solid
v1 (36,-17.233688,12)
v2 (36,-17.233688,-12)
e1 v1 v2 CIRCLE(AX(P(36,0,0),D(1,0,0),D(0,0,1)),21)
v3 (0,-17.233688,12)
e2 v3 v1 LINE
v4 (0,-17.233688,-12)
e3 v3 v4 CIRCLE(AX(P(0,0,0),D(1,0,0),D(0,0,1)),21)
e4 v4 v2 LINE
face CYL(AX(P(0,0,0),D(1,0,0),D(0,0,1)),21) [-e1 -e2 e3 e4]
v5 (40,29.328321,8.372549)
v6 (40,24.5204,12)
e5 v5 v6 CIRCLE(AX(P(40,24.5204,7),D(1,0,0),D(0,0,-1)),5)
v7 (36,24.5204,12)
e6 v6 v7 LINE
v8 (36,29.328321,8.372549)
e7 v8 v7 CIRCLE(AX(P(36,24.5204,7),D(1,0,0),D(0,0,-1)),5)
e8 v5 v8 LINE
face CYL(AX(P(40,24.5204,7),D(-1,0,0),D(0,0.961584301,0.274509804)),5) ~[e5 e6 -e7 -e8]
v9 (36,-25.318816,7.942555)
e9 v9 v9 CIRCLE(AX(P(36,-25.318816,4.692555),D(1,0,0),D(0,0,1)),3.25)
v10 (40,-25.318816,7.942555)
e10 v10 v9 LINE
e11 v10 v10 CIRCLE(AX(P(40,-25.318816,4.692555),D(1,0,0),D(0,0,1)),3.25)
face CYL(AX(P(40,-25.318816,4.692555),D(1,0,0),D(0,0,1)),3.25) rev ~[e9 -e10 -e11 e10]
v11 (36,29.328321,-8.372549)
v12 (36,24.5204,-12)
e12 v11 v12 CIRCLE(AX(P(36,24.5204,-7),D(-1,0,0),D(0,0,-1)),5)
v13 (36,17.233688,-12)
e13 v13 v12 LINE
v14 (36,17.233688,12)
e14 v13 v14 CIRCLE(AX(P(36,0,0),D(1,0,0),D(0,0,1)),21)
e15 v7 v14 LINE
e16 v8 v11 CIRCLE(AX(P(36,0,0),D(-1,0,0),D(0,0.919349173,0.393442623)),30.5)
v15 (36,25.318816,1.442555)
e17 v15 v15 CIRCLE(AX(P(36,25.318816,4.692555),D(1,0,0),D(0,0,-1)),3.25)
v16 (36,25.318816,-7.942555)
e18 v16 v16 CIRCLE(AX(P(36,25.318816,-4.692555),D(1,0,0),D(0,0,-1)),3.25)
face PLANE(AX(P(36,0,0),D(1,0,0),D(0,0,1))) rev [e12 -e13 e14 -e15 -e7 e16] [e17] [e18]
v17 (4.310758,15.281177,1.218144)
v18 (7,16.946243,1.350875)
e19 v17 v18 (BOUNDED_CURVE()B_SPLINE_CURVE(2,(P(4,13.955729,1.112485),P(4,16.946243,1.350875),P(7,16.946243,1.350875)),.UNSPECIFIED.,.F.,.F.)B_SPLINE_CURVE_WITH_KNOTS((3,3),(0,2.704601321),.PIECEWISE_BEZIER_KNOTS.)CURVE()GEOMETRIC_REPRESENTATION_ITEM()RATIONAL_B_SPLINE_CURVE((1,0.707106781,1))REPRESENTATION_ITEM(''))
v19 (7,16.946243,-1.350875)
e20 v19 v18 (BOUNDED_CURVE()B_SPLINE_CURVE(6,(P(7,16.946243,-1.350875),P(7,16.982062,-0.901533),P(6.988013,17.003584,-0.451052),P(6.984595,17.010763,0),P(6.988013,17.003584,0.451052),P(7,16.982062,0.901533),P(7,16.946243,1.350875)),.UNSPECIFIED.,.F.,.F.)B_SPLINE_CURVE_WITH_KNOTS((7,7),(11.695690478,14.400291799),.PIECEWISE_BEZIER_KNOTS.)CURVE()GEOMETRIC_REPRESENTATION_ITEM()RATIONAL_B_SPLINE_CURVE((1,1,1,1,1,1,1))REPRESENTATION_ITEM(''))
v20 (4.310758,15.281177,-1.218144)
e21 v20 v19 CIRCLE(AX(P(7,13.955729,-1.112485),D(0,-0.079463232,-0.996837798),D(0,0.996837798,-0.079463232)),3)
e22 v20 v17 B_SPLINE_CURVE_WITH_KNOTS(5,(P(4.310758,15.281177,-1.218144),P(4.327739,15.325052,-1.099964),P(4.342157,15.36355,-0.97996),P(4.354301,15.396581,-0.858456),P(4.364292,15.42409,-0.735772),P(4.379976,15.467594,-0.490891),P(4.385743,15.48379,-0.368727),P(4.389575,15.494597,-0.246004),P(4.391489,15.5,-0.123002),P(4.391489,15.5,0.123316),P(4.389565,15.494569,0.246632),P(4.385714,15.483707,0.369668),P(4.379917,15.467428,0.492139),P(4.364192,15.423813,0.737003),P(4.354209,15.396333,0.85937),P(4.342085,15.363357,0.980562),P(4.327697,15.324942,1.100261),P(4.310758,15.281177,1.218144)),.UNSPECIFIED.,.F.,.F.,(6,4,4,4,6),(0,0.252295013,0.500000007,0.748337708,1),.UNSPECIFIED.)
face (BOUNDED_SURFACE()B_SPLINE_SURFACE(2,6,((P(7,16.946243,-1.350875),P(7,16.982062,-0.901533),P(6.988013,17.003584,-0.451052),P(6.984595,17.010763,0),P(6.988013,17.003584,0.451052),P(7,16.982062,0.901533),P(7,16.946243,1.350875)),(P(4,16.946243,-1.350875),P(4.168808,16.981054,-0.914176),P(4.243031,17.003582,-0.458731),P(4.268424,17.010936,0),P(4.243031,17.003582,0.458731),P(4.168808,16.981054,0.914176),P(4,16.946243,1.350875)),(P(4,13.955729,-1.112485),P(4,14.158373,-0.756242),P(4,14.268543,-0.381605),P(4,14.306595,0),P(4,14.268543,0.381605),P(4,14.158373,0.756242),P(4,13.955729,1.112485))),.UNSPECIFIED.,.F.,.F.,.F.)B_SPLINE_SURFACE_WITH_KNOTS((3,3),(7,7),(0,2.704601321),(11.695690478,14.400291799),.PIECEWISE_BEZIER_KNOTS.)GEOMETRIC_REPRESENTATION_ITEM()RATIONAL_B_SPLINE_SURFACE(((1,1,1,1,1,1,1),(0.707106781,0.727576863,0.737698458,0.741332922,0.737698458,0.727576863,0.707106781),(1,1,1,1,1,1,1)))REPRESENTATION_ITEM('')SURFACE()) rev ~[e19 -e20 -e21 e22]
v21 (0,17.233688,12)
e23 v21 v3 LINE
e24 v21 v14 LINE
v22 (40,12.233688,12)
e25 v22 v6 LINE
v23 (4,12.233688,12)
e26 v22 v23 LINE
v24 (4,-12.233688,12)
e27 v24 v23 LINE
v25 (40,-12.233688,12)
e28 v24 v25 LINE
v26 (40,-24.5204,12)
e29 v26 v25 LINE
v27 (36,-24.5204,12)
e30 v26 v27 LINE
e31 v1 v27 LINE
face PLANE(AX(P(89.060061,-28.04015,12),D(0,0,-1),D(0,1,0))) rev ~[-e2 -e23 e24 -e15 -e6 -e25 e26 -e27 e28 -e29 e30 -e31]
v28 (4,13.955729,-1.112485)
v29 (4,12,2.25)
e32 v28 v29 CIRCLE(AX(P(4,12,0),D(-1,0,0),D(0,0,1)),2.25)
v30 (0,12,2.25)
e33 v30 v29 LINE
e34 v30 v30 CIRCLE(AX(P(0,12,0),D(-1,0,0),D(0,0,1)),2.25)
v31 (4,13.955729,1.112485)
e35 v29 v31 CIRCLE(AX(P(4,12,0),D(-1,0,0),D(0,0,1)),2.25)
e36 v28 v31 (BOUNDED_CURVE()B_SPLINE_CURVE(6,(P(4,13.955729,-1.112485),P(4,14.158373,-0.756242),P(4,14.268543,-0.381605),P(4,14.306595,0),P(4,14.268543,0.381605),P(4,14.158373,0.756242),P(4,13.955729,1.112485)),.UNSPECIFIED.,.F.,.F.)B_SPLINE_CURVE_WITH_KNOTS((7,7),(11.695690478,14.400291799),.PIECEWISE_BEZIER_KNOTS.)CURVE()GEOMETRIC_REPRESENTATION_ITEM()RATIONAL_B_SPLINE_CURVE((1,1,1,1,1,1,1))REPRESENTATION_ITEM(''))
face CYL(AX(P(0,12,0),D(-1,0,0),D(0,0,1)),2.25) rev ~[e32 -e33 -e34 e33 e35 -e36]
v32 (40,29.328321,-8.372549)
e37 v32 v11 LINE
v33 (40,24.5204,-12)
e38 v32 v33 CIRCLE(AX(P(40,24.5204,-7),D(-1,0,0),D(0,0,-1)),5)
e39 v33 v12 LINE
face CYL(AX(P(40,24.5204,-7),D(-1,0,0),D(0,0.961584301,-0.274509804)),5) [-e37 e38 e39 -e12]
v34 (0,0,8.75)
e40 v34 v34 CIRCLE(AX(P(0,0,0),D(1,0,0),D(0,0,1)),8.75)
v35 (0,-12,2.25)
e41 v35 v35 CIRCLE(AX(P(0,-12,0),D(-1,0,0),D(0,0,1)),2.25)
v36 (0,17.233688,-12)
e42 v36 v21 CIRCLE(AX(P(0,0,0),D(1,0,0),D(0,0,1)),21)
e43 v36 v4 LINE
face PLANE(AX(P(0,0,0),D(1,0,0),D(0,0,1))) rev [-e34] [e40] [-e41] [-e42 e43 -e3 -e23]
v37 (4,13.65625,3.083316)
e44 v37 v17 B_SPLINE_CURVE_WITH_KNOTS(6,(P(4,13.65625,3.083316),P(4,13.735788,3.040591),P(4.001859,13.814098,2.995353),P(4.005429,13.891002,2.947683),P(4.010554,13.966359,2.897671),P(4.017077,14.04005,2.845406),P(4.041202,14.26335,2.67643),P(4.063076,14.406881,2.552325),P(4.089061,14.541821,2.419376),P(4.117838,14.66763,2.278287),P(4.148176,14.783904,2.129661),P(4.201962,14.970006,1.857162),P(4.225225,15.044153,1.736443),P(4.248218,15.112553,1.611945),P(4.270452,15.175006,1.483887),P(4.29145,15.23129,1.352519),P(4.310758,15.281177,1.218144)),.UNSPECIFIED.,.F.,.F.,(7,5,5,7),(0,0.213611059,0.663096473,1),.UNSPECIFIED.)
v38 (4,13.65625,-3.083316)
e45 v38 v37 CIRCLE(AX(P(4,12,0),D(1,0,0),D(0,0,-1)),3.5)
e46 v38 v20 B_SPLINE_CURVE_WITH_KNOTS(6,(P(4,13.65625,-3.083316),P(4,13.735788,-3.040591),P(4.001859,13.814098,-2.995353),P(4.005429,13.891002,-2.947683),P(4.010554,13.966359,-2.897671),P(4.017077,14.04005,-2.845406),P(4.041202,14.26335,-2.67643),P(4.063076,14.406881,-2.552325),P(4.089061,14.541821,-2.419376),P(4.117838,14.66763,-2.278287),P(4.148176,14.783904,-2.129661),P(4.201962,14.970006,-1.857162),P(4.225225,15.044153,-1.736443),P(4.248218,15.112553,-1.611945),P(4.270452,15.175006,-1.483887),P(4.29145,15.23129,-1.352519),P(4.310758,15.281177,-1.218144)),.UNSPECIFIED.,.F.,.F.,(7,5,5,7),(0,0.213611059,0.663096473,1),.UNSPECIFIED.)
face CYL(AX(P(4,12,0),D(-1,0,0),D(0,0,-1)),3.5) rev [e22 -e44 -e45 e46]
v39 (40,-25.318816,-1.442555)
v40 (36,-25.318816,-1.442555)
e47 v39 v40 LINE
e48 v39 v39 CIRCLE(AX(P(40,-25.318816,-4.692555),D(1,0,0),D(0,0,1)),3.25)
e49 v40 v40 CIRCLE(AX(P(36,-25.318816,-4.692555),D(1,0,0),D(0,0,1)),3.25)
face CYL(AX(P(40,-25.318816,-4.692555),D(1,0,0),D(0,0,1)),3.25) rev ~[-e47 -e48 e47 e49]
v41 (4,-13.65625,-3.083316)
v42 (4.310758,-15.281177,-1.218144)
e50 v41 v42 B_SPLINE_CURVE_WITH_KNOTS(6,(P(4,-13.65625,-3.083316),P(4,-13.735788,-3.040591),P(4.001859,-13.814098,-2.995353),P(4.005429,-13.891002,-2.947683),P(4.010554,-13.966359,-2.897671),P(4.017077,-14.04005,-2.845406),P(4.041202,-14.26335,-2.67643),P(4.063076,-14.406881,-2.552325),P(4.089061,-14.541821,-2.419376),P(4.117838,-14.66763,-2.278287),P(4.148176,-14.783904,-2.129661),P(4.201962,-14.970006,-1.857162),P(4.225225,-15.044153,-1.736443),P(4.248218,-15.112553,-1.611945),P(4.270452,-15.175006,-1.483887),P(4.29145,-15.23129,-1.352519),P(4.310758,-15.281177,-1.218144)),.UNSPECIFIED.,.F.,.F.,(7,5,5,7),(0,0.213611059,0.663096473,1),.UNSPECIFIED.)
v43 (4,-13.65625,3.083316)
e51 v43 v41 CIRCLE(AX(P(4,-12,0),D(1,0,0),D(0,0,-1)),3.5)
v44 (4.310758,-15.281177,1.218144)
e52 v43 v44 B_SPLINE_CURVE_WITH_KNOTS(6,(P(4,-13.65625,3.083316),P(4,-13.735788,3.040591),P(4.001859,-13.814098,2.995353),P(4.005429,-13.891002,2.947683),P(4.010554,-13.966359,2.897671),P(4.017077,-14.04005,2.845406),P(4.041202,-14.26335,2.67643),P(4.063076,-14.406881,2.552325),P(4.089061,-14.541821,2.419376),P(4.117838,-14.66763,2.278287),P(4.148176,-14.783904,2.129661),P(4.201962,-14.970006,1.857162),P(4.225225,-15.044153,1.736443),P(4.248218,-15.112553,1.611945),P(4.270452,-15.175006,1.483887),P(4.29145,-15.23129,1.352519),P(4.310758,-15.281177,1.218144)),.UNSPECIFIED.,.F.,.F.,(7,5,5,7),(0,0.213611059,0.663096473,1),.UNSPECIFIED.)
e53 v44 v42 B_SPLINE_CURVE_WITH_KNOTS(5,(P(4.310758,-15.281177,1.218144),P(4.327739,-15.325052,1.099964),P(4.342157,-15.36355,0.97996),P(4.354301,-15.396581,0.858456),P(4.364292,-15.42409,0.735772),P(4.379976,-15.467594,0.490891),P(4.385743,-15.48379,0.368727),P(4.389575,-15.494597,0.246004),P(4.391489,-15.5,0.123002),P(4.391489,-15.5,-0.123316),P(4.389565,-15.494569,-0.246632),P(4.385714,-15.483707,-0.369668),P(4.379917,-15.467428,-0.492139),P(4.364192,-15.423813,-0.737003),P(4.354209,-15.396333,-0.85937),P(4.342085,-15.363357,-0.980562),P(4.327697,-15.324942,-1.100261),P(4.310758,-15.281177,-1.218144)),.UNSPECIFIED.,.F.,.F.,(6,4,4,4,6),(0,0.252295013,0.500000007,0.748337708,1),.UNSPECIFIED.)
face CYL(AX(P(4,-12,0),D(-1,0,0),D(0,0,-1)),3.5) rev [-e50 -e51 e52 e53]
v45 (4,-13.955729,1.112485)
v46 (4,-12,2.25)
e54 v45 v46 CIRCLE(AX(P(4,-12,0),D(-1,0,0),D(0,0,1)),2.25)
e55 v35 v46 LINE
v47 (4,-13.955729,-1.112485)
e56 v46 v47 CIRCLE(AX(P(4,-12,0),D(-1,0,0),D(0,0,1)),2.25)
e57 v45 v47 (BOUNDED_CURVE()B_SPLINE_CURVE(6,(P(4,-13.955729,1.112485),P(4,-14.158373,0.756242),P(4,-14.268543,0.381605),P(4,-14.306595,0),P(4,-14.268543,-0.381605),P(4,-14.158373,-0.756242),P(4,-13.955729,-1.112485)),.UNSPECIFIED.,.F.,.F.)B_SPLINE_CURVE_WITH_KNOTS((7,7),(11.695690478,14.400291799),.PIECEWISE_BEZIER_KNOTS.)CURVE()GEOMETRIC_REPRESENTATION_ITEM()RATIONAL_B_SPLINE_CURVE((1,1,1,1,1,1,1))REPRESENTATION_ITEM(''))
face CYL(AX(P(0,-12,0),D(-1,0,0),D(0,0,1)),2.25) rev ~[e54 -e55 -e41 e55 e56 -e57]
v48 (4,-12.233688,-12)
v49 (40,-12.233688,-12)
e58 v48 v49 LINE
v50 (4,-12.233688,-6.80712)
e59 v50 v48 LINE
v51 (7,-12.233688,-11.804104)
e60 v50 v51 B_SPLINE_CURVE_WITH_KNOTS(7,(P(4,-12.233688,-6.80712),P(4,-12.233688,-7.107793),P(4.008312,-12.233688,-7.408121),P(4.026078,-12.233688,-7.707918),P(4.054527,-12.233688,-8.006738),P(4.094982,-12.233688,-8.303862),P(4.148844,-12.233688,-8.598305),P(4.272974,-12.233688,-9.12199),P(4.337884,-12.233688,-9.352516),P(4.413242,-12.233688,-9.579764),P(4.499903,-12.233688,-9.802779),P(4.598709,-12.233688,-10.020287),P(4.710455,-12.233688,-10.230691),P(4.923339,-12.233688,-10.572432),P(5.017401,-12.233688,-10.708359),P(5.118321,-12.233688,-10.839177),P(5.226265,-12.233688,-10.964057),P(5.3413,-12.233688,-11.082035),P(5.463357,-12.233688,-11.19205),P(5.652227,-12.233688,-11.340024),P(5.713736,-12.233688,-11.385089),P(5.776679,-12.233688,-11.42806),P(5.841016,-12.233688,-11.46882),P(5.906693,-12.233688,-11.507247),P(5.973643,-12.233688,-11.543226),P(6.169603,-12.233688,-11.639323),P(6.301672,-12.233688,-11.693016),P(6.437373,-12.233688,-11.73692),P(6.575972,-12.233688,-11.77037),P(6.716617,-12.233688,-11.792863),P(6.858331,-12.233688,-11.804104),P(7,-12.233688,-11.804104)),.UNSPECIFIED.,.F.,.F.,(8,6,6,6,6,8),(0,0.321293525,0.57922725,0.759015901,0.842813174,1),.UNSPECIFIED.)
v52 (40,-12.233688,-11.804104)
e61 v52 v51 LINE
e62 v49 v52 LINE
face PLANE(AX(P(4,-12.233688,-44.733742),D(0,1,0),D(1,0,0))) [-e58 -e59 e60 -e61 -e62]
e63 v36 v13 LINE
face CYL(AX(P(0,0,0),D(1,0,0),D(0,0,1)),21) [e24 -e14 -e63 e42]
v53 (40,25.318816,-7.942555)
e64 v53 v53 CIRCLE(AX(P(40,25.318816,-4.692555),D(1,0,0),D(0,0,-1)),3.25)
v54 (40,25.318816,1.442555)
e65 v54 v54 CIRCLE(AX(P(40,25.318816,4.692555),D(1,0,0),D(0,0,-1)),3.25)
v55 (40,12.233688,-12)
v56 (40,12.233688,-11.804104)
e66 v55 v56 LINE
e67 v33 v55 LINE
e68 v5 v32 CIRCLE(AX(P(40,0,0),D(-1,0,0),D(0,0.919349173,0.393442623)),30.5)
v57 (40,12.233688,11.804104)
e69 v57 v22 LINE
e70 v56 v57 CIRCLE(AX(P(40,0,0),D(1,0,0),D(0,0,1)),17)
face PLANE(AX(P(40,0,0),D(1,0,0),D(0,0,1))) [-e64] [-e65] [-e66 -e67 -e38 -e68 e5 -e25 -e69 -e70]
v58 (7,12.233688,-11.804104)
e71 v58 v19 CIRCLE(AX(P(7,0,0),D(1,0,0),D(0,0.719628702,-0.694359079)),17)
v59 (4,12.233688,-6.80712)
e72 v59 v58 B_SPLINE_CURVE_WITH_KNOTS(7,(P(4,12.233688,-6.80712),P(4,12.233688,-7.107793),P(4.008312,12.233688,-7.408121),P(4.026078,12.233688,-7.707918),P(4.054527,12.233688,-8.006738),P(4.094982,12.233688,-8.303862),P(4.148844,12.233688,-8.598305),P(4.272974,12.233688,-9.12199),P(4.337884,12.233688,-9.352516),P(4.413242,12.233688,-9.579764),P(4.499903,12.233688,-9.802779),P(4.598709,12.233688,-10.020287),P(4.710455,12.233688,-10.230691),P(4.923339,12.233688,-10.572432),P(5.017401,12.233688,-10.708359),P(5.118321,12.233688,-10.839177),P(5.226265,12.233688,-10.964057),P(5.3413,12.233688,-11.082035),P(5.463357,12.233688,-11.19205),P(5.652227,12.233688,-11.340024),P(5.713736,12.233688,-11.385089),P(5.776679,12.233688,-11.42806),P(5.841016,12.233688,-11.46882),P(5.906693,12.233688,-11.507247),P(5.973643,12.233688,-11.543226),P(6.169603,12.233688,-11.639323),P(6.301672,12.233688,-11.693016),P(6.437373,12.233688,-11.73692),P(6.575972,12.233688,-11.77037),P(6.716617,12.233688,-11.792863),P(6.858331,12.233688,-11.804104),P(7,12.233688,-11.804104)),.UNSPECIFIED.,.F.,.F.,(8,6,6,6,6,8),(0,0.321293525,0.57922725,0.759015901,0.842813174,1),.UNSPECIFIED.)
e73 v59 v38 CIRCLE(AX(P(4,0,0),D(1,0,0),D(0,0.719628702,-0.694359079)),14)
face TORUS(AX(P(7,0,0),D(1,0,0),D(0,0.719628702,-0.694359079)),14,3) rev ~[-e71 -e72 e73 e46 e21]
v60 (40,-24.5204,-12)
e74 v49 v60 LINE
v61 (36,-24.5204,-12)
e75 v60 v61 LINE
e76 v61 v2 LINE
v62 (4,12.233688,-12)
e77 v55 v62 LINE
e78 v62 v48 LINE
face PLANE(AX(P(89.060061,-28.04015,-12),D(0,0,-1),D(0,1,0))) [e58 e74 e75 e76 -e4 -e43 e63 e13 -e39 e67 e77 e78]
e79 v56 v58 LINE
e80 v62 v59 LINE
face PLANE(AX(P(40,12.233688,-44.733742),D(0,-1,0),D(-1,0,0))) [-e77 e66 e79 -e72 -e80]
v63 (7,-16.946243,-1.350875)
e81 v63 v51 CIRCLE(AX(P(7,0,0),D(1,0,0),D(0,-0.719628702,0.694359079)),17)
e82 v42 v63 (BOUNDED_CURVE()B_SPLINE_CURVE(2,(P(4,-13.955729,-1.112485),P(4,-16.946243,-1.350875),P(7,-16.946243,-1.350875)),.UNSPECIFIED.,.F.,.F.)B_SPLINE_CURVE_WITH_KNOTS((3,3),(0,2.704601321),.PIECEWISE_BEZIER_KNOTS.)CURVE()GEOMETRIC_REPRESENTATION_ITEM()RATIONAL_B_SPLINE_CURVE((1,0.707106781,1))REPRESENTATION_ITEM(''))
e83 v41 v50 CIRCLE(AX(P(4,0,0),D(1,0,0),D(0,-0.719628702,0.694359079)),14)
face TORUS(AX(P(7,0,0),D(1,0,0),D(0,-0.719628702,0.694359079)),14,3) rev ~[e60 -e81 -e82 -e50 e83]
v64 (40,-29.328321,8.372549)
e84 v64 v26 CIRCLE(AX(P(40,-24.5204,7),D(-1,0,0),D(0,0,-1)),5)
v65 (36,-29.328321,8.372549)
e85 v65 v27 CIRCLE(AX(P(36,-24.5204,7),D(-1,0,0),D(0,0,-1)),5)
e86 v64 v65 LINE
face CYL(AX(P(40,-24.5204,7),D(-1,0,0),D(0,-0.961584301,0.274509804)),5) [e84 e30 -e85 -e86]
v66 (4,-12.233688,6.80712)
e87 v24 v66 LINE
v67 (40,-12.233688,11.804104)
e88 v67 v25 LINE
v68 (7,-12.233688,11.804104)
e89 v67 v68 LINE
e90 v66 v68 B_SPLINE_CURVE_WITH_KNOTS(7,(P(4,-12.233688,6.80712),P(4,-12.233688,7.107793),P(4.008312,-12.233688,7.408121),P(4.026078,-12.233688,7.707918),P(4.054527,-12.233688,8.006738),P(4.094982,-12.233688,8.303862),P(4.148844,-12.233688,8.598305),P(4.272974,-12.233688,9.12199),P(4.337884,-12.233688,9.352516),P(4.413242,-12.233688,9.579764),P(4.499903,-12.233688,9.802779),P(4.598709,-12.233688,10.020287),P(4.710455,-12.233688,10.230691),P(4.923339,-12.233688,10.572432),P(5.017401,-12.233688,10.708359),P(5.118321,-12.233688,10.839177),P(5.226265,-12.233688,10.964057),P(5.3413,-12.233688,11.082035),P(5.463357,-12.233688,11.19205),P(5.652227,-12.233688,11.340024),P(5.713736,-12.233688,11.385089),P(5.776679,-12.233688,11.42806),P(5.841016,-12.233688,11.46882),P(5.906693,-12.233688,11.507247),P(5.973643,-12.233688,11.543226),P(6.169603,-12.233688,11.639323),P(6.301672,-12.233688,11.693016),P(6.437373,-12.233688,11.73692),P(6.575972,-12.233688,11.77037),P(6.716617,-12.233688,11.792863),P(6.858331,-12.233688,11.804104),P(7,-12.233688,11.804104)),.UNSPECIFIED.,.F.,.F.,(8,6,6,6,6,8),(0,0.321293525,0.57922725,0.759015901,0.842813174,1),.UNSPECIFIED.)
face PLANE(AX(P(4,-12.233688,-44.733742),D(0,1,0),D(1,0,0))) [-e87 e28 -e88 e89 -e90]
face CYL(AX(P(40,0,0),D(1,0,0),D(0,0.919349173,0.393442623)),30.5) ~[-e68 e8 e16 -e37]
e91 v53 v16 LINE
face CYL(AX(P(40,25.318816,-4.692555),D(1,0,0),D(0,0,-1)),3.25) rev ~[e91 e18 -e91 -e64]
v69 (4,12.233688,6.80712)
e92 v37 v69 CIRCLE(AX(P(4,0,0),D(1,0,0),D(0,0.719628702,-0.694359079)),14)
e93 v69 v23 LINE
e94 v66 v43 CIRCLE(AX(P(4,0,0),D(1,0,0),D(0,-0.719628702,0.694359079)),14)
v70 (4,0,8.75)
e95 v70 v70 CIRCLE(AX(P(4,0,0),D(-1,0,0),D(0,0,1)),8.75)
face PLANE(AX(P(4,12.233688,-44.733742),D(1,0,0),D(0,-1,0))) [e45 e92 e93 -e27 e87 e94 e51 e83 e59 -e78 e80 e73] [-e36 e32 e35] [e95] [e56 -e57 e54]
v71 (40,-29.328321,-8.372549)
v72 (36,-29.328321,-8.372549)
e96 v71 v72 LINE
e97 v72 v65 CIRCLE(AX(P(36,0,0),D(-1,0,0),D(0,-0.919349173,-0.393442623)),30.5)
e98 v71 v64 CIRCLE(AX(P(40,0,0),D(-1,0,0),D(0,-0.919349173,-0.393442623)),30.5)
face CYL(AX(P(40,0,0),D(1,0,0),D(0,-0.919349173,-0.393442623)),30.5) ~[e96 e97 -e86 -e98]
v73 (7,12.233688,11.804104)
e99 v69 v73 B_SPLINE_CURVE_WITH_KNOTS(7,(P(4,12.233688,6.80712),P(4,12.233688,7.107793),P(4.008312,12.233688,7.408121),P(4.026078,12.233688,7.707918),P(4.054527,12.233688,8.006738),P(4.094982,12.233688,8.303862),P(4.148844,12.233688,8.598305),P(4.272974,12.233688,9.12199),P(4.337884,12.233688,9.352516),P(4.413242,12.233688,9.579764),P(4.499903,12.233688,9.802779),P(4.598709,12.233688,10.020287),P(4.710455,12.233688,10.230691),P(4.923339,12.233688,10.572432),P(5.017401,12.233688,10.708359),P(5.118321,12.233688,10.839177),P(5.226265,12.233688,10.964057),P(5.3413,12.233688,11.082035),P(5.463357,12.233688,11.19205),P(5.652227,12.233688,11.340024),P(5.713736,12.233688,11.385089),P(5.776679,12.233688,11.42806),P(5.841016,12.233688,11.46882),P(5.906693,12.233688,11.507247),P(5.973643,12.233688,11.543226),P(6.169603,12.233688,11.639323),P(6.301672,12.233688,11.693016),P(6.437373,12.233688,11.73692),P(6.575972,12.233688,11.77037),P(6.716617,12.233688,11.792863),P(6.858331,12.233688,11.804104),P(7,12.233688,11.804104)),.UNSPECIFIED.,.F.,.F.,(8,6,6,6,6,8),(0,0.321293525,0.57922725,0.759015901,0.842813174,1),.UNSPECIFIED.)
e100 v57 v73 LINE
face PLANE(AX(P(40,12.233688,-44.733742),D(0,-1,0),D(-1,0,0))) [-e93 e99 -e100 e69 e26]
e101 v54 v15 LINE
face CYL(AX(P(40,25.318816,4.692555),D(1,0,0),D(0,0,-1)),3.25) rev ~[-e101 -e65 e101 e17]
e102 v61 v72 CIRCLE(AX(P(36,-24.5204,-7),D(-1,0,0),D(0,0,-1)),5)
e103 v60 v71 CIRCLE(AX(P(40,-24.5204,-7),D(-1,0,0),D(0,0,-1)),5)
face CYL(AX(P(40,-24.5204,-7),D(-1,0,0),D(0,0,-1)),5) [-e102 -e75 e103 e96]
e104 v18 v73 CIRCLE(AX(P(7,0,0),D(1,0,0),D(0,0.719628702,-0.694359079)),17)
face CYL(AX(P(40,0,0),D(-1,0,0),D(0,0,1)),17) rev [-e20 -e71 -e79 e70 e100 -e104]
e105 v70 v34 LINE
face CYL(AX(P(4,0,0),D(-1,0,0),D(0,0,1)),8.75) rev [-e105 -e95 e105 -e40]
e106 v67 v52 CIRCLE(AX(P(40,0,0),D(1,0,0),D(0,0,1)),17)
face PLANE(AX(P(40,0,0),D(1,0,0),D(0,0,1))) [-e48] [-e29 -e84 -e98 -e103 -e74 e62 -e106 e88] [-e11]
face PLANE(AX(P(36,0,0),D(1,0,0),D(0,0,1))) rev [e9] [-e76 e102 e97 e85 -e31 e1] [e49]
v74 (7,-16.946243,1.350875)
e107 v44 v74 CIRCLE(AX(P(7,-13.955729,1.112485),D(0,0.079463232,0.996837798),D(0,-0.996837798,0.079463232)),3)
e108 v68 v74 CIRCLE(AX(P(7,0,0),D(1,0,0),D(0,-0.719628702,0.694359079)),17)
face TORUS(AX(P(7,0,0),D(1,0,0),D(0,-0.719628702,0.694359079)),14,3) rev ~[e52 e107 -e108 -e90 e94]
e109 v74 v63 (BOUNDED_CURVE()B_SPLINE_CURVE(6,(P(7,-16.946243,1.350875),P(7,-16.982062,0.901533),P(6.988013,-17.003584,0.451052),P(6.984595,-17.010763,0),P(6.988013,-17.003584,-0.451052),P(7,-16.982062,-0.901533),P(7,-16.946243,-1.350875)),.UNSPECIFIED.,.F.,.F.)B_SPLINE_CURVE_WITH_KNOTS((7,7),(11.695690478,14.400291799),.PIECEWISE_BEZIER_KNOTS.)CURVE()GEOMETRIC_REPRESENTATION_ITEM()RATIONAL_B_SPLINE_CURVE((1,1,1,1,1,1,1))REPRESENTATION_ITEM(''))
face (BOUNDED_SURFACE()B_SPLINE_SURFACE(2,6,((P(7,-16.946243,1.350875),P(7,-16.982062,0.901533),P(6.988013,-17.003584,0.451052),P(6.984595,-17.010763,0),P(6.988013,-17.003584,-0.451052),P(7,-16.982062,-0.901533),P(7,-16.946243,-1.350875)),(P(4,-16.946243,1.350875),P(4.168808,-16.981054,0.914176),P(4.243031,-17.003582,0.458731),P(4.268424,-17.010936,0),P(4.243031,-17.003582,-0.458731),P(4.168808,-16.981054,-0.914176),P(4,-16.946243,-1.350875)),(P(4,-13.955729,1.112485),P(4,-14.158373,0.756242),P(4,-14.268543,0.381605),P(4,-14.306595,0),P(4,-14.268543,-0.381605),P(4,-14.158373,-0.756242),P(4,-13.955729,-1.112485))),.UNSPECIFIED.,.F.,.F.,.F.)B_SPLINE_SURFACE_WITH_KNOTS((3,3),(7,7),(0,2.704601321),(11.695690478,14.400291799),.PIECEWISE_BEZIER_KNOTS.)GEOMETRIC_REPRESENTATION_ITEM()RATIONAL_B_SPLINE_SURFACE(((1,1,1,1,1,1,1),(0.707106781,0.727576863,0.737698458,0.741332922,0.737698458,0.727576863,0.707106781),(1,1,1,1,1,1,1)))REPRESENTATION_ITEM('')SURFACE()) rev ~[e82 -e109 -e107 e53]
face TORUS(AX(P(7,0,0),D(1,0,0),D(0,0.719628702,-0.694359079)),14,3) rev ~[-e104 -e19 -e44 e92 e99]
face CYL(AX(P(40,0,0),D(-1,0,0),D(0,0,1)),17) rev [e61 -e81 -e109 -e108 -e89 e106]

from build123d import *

# Parameters (mm, degrees)
SKETCH2_R               = 3.25
BOSS_EXTRUDE1_DEPTH     = 4
CIRPATTERN2_COUNT       = 2
CUT_EXTRUDE4_DEPTH      = 53.060061468
CUT_EXTRUDE4_DEPTH_BACK = 53.060061468
SKETCH6_W               = 12.790505544
SKETCH6_H               = 56.080299572
SKETCH6_W_2             = 13.13165929
CUT_EXTRUDE5_DEPTH      = 56.733742024
CUT_EXTRUDE5_DEPTH_BACK = 56.733742024
SKETCH8_R               = 2.25
CUT_EXTRUDE6_DEPTH      = 10
FILLET1_R               = 3
SKETCH9_R               = 3.5
CUT_EXTRUDE7_DEPTH      = 30
FILLET2_R               = 5


with BuildPart() as part:
    # Sketch1 → Revolve1 (revolve)
    with BuildSketch(Plane.XY, mode=Mode.PRIVATE) as revolve1_sk:
        Polygon((0, 8.75), (0, 21), (36, 21), (36, 22), (40, 22), (40, 17), (4, 17), (4, 8.75), align=None)
    revolve(revolve1_sk.sketch.rotate(Axis((0, 0, 0), (1, 0, 0)), 90), axis=Axis((0, 0, 0), (1, 0, 0)))

    # Sketch2 → Boss-Extrude1 (add)
    with BuildSketch(Plane(origin=(40, 0, 0), x_dir=(0, 0, -1), z_dir=(1, 0, 0))):
        with BuildLine():
            Line((12, 28.040149786), (12, 18.439088915))
            ThreePointArc((12, 18.439088915), (0, 22), (-12, 18.439088915))
            Line((-12, 18.439088915), (-12, 28.040149786))
            ThreePointArc((-12, 28.040149786), (0, 30.5), (12, 28.040149786))
        make_face()
        with Locations((-4.692554767, 25.318815726)):
            Circle(SKETCH2_R, mode=Mode.SUBTRACT)
        with Locations((4.692554767, 25.318815726)):
            Circle(SKETCH2_R, mode=Mode.SUBTRACT)
    boss_extrude1 = extrude(amount=-BOSS_EXTRUDE1_DEPTH)

    # CirPattern2: Boss-Extrude1 ×2 about axis
    cirpattern2_axis = Axis((0, 0, 0), (1, 0, 0))
    for i in range(1, CIRPATTERN2_COUNT):
        add(boss_extrude1.rotate(cirpattern2_axis, i * 360 / CIRPATTERN2_COUNT))

    # Sketch6 → Cut-Extrude4 (cut, two sides: drawn at the far end of the back side and taken through both)
    with BuildSketch(Plane.ZY.offset(-36).offset(-CUT_EXTRUDE4_DEPTH_BACK)):
        with Locations((-18.395252772, 0)):
            Rectangle(SKETCH6_W, SKETCH6_H)
        with Locations((18.565829645, 0)):
            Rectangle(SKETCH6_W_2, SKETCH6_H)
    extrude(amount=CUT_EXTRUDE4_DEPTH + CUT_EXTRUDE4_DEPTH_BACK, mode=Mode.SUBTRACT)

    # Sketch7 → Cut-Extrude5 (cut, two sides: drawn at the far end of the back side and taken through both)
    with BuildSketch(Plane.XY.offset(12).offset(-CUT_EXTRUDE5_DEPTH_BACK)):
        Polygon((40, 0), (40, 12.23368794), (4, 12.23368794), (4, -12.23368794), (40, -12.23368794), align=None)
    extrude(amount=CUT_EXTRUDE5_DEPTH + CUT_EXTRUDE5_DEPTH_BACK, mode=Mode.SUBTRACT)

    # Sketch8 → Cut-Extrude6 (cut)
    with BuildSketch(Plane.ZY):
        with Locations((0, -12)):
            Circle(SKETCH8_R)
        with Locations((0, 12)):
            Circle(SKETCH8_R)
    extrude(amount=-CUT_EXTRUDE6_DEPTH, mode=Mode.SUBTRACT)

    # Fillet1
    fillet1_edges = [part.edges().sort_by_distance(p)[0] for p in [
        (4, -17, 0),
        (4, 17, 0),
    ]]
    fillet(fillet1_edges, radius=FILLET1_R)

    # Sketch9 → Cut-Extrude7 (cut)
    with BuildSketch(Plane(origin=(4, 0, 0), x_dir=(0, 0, -1), z_dir=(1, 0, 0))):
        with Locations((0, 12)):
            Circle(SKETCH9_R)
        with Locations((0, -12)):
            Circle(SKETCH9_R)
    extrude(amount=CUT_EXTRUDE7_DEPTH, mode=Mode.SUBTRACT)

    # Fillet2
    fillet2_edges = [part.edges().sort_by_distance(p)[0] for p in [
        (38, 28.040149786, -12),
        (38, 28.040149786, 12),
        (38, -28.040149786, 12),
        (38, -28.040149786, -12),
    ]]
    fillet(fillet2_edges, radius=FILLET2_R)


solid = part.part
